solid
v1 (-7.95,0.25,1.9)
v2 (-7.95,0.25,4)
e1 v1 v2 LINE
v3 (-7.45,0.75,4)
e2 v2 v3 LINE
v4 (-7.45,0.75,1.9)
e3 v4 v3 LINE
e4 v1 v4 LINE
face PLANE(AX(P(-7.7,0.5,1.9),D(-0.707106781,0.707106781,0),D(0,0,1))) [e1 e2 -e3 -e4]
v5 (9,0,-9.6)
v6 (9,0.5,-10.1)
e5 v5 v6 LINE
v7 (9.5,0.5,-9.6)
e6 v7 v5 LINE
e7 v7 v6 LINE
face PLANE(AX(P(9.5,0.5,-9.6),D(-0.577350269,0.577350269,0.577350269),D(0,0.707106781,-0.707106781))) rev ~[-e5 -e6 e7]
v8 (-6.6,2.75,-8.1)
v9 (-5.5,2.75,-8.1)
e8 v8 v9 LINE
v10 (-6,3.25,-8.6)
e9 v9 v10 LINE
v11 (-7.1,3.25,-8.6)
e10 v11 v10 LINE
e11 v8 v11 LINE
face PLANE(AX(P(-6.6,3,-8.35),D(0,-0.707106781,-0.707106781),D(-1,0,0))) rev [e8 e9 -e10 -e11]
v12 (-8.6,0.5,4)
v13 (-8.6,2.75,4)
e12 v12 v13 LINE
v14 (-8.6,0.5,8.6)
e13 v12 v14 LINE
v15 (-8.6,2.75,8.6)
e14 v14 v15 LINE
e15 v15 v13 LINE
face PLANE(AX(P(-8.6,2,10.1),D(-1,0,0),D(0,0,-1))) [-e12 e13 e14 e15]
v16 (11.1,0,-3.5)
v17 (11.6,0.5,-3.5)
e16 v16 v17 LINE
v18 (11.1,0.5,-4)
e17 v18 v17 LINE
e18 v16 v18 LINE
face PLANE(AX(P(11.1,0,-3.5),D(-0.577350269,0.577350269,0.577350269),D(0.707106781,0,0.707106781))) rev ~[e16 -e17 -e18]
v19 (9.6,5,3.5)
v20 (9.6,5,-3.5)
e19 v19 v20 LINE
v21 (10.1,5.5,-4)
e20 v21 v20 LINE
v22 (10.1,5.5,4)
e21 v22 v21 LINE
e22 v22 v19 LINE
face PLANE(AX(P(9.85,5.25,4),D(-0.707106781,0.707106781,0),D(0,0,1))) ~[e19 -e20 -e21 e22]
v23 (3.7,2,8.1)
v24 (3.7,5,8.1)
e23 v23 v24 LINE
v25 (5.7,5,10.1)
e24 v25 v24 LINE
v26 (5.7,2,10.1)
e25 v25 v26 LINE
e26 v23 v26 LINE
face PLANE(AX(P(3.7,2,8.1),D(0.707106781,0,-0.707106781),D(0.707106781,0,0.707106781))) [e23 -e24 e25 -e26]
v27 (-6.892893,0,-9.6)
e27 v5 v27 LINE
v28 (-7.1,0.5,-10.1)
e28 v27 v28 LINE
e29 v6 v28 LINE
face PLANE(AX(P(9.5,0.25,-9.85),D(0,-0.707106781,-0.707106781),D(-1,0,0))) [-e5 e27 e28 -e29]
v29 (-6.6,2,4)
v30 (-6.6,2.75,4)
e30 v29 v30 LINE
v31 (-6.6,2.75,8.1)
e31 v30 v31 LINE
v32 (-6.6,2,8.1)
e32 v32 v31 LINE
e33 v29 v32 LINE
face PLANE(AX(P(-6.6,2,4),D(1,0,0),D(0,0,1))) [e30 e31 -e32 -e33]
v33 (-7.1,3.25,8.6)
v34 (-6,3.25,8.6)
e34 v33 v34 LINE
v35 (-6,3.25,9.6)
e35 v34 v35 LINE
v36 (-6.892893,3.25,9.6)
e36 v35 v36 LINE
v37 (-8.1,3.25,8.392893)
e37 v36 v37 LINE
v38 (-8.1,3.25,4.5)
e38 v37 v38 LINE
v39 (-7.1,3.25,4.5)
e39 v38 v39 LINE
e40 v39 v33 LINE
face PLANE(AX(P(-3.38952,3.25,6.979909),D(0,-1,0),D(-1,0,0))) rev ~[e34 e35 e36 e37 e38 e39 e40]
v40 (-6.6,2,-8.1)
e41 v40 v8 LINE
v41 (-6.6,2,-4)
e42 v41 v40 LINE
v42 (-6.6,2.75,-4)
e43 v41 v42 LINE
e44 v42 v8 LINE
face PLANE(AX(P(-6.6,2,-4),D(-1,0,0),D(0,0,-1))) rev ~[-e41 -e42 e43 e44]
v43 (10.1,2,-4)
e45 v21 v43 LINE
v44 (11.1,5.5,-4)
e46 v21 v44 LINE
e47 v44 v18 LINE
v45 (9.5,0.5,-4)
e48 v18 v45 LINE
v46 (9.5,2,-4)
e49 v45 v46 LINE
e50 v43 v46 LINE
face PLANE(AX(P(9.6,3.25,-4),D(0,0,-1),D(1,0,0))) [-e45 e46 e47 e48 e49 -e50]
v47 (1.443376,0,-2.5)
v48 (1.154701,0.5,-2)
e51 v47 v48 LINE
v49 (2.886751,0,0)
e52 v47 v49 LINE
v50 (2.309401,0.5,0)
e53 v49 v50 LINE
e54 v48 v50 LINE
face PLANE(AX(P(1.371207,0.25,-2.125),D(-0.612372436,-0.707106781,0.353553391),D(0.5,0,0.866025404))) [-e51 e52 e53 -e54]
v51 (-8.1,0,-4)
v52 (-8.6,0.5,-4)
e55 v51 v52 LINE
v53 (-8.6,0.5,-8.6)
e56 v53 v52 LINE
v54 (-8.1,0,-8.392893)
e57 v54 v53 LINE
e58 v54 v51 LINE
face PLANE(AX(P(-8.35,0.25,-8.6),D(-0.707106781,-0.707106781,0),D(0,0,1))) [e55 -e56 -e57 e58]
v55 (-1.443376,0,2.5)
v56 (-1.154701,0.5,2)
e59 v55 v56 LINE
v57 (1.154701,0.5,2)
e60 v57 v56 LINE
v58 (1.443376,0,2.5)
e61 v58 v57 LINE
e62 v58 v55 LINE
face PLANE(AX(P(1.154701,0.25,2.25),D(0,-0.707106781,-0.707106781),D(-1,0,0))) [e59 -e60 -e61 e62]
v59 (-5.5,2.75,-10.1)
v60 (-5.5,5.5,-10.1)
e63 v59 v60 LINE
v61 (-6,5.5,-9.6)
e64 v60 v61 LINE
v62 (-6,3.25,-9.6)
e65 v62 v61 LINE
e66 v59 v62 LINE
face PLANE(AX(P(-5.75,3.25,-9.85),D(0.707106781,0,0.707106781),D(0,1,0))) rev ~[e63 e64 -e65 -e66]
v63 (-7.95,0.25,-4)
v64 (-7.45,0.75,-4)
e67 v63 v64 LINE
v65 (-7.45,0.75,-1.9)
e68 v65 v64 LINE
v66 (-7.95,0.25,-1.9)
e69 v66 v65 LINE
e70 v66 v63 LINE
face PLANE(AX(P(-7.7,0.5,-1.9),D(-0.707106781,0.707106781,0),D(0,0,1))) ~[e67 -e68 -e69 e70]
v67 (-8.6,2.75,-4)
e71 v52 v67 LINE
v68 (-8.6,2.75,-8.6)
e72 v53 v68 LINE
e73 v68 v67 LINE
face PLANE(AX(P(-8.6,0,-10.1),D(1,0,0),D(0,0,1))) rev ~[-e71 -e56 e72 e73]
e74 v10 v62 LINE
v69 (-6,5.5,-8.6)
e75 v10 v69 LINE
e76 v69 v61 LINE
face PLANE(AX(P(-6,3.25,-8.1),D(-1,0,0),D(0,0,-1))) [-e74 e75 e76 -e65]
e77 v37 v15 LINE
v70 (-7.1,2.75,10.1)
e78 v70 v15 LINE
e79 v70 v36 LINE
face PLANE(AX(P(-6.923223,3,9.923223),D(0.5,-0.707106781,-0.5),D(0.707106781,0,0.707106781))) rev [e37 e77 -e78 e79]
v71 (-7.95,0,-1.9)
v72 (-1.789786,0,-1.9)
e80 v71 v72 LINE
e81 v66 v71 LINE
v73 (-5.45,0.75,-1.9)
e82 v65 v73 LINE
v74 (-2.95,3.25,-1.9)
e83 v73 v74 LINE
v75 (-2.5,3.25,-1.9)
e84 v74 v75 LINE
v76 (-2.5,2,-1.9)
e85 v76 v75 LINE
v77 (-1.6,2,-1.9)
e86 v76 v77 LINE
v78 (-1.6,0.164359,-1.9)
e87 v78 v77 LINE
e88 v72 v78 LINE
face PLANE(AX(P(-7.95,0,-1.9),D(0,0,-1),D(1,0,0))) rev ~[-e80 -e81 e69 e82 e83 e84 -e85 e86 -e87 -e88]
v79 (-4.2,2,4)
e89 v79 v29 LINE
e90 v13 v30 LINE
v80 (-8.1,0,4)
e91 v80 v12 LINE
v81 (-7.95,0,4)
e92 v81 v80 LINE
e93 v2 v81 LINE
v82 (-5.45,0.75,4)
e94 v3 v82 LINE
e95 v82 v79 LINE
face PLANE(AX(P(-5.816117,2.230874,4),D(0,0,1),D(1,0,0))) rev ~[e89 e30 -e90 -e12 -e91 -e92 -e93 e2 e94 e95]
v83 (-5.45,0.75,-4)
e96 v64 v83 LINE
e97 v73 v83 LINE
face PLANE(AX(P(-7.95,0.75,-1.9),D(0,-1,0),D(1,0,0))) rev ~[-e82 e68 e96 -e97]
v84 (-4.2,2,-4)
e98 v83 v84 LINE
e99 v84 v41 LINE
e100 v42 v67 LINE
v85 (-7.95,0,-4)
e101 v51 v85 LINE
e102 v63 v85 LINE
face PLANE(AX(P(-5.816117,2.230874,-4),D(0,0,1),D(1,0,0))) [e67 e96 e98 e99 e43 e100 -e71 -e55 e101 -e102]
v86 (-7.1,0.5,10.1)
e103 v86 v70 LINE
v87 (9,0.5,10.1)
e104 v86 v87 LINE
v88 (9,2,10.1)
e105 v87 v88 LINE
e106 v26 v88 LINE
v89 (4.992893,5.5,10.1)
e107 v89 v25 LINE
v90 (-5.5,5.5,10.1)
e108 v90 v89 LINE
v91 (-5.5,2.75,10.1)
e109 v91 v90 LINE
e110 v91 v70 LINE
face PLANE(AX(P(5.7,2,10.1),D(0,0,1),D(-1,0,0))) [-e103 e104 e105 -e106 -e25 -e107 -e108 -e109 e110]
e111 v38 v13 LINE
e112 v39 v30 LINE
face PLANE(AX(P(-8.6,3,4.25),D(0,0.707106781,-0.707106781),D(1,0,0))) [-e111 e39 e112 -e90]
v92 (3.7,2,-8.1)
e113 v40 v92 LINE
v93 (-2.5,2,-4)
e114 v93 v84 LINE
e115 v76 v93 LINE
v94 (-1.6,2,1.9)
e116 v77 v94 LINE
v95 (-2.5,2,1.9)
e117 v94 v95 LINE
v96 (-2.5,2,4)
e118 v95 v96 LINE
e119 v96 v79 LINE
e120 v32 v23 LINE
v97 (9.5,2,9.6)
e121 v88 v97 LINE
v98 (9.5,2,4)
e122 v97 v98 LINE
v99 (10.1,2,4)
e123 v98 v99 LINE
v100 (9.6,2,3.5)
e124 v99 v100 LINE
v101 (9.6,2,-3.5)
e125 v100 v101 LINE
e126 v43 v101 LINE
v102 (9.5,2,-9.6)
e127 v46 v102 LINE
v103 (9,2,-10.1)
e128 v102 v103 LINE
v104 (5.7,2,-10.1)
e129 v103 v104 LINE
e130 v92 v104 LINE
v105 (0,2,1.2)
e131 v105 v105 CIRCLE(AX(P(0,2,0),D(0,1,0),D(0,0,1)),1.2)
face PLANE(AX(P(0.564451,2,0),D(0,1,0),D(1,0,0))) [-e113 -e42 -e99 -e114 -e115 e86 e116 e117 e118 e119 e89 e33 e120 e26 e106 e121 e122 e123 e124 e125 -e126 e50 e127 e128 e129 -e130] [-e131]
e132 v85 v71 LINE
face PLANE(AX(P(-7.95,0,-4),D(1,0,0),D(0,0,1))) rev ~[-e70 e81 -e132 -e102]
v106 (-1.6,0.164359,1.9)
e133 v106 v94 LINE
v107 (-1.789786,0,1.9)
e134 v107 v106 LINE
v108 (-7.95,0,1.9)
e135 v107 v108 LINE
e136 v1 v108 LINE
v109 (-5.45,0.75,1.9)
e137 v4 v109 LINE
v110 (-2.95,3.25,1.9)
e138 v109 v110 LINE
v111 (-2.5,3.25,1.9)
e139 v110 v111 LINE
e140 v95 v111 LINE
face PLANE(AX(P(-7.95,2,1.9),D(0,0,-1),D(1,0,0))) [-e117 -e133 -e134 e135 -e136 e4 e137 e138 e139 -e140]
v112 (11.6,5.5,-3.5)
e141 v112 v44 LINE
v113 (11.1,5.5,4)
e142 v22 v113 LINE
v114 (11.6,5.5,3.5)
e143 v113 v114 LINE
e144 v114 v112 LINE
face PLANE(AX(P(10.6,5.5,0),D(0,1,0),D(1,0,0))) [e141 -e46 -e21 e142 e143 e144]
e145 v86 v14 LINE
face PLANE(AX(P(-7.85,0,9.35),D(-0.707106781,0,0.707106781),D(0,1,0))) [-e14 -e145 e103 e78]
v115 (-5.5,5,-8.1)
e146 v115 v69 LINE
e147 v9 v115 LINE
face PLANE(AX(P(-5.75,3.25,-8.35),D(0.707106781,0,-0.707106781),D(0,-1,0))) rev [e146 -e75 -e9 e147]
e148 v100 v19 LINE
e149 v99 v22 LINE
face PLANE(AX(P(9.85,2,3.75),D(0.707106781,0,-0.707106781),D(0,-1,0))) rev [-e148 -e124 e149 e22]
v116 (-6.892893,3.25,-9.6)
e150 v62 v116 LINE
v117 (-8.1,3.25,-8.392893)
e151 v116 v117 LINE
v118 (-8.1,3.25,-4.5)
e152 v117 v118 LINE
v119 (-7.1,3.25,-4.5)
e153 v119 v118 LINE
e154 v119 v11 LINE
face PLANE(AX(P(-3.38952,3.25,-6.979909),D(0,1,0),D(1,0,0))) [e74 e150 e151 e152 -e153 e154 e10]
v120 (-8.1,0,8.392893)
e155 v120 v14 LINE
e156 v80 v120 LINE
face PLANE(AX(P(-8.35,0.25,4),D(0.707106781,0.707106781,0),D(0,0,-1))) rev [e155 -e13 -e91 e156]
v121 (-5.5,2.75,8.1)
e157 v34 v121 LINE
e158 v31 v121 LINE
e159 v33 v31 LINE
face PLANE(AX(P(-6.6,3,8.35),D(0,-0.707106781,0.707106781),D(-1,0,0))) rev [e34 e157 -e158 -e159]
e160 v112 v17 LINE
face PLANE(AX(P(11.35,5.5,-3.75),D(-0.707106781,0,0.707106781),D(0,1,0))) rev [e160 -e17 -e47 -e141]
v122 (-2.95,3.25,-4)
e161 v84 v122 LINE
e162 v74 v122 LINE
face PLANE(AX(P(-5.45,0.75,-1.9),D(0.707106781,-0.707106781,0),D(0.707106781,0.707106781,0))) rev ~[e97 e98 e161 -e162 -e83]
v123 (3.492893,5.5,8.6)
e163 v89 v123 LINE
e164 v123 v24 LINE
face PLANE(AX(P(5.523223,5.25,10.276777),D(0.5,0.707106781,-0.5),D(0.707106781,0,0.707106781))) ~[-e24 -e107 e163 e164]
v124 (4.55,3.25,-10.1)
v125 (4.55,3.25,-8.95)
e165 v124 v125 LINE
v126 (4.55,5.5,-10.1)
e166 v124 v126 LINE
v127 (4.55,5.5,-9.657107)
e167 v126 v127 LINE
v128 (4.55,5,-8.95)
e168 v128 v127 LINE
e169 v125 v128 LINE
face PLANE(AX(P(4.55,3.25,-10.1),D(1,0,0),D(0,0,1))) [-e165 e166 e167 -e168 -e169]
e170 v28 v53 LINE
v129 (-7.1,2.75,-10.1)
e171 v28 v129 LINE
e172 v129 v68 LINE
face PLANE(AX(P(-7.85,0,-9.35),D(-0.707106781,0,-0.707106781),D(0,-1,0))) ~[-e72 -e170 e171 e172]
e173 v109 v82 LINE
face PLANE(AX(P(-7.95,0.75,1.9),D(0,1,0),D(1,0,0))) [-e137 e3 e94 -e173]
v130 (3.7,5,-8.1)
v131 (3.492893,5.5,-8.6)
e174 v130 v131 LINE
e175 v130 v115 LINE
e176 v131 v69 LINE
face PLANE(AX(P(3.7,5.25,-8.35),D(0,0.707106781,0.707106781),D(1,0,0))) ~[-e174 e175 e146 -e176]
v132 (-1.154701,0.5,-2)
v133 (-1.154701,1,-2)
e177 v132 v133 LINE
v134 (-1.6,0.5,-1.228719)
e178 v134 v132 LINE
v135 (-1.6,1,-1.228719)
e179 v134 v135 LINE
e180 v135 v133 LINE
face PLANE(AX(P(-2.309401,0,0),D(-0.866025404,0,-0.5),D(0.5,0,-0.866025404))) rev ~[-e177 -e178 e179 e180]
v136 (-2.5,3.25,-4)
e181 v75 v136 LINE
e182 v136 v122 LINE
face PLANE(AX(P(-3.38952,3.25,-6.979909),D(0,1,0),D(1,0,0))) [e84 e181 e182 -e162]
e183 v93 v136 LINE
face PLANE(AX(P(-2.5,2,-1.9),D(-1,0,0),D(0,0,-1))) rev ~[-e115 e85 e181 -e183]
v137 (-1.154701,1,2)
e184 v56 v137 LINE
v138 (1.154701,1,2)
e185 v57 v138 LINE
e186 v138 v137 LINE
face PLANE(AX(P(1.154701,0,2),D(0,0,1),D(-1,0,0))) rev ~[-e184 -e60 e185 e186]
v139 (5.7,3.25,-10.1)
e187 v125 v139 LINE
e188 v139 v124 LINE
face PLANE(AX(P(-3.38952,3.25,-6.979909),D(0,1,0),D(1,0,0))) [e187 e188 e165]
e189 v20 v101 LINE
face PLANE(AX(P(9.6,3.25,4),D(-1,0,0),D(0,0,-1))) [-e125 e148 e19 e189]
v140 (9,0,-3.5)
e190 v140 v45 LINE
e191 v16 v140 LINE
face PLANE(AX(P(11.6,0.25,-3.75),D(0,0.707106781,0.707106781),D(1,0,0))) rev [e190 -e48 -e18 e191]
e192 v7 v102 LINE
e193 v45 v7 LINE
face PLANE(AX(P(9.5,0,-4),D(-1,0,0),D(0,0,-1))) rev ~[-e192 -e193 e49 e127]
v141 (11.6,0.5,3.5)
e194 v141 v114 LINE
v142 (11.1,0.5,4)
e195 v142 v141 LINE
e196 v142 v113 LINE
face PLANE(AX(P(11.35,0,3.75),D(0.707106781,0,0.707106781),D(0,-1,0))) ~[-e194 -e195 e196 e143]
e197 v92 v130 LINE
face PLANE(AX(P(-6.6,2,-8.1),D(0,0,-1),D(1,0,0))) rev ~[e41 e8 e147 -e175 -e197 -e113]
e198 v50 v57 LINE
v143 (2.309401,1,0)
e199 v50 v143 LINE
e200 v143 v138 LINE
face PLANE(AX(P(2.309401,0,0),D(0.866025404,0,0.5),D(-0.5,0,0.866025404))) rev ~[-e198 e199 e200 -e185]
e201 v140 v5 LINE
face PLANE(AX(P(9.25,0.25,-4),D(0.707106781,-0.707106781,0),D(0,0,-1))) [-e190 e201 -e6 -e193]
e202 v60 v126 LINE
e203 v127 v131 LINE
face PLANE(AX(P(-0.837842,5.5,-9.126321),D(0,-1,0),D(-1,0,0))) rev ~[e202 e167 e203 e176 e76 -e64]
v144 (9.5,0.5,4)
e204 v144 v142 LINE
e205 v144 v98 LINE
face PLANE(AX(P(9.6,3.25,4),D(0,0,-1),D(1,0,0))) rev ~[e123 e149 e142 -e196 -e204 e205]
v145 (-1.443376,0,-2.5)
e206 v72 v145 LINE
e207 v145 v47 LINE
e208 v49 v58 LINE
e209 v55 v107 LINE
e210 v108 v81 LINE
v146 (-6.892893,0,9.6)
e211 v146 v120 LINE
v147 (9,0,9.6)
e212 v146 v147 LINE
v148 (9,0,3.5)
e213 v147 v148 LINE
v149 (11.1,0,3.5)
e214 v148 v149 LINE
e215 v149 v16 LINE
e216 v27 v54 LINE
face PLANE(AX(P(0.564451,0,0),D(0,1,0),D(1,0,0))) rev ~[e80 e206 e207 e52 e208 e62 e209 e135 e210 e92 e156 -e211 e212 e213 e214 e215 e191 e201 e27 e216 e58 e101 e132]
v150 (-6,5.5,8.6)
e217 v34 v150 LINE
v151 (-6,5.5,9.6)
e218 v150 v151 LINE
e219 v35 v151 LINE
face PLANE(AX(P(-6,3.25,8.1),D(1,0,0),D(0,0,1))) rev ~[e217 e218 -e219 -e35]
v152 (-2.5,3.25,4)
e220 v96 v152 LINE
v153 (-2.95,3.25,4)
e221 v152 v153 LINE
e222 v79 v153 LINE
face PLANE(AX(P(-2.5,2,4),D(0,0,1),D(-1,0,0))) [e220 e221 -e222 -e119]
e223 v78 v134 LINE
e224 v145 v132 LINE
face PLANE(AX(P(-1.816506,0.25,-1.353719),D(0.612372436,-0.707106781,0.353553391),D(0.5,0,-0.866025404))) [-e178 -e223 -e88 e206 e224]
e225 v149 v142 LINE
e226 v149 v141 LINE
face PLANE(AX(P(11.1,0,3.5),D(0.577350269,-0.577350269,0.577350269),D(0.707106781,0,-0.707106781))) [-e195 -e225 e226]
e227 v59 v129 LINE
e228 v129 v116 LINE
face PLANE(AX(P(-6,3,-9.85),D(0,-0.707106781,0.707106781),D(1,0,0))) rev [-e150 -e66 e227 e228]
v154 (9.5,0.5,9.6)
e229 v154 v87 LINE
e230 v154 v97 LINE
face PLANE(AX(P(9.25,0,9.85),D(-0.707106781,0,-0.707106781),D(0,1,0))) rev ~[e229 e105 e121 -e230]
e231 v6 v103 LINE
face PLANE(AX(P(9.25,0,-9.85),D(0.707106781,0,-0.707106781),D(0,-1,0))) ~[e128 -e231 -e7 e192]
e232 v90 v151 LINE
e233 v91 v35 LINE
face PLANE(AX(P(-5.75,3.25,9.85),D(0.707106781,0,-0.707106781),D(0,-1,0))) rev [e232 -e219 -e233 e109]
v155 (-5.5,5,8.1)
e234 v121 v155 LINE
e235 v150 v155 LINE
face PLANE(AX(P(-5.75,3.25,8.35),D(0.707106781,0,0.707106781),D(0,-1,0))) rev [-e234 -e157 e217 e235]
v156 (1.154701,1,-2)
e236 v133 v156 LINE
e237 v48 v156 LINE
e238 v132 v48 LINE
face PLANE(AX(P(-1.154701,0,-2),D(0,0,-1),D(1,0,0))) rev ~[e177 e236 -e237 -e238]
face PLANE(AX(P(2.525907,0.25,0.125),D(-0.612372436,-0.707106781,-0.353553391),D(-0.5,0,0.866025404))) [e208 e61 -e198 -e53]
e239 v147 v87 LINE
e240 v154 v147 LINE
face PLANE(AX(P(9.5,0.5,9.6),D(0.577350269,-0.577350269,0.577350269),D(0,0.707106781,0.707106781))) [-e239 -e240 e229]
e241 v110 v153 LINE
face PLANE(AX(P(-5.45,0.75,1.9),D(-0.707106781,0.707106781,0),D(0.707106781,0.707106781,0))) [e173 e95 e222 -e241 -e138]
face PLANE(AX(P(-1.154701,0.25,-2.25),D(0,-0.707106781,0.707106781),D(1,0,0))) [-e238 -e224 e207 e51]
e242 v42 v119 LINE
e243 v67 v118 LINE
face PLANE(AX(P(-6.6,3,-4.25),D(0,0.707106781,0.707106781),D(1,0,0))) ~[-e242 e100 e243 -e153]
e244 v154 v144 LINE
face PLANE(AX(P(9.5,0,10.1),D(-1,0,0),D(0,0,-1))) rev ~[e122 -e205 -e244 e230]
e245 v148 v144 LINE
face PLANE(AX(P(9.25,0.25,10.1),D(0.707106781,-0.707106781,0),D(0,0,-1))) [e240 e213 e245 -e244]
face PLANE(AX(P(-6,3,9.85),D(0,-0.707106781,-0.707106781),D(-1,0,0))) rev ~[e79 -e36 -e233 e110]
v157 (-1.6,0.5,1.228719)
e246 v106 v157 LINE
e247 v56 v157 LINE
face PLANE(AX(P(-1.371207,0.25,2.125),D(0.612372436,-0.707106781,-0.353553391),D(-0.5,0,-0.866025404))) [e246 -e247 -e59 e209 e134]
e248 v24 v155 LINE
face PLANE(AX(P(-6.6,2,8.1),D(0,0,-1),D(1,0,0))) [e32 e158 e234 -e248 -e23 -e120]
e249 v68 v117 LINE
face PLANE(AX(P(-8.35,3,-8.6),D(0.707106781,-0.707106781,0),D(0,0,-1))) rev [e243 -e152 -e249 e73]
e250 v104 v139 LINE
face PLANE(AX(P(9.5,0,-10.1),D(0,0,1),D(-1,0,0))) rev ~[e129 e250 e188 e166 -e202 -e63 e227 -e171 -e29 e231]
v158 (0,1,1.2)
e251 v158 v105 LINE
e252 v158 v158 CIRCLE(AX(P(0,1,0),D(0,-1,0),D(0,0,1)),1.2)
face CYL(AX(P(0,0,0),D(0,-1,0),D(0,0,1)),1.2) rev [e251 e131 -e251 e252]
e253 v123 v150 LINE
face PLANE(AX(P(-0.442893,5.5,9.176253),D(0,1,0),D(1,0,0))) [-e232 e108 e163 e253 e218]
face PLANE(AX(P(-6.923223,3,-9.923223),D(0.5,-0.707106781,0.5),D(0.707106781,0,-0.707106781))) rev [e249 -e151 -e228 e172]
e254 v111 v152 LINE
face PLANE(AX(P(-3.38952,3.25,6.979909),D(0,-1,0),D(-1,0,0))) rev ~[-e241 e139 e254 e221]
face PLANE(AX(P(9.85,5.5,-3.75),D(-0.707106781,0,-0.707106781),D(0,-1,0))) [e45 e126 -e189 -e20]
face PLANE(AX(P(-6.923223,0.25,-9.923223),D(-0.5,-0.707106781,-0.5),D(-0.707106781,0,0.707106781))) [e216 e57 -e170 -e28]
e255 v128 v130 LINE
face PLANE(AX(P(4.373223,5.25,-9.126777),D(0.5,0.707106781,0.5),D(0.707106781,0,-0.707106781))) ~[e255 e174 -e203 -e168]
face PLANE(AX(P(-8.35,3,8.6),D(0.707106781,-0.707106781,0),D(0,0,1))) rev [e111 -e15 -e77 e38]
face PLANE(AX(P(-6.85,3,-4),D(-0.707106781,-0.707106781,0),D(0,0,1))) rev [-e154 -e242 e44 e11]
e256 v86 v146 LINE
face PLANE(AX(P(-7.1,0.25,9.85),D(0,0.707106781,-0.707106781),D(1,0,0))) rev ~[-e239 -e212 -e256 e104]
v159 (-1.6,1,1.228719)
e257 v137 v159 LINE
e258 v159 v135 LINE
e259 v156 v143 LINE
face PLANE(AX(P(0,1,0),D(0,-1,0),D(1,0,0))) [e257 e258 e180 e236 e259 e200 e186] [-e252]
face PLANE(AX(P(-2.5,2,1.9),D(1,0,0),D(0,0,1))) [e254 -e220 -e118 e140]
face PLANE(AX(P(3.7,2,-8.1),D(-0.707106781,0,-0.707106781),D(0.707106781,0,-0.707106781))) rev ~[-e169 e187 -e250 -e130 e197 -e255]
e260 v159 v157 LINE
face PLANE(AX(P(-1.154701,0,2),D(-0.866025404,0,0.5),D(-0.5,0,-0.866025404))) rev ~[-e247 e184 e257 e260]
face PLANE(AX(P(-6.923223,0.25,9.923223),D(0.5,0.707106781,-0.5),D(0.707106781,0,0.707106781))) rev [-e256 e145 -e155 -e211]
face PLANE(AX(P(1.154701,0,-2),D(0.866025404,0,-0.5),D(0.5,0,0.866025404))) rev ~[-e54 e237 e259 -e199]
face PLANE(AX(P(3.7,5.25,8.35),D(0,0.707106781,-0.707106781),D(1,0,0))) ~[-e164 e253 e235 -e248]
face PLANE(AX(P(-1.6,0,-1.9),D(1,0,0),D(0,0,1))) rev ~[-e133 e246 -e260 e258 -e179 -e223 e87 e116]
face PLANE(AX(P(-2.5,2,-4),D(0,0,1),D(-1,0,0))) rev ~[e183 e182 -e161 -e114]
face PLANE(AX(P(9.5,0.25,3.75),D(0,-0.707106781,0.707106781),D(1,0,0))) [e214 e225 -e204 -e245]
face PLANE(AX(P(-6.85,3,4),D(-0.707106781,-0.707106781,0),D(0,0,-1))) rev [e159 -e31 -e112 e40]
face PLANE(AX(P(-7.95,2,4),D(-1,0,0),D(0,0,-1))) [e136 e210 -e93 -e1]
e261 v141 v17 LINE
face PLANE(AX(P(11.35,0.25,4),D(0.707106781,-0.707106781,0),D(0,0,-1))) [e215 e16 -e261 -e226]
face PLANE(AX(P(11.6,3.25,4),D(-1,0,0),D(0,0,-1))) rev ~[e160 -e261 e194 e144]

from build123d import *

# Parameters (mm, degrees)
SKETCH1_R           = 1.2
BOSS_EXTRUDE1_DEPTH = 2
SKETCH2_W           = 2
SKETCH2_H           = 8
BOSS_EXTRUDE2_DEPTH = 1.25
SKETCH3_W           = 2
SKETCH3_H           = 8
BOSS_EXTRUDE3_DEPTH = 2.25
CUT_EXTRUDE1_DEPTH  = 1
CUT_EXTRUDE2_DEPTH  = 2.1
CUT_EXTRUDE3_DEPTH  = 2.1
CHAMFER1_SIZE       = 1.5
CHAMFER2_SIZE       = 0.5


with BuildPart() as part:
    # Sketch1 → Boss-Extrude1 (new body)
    with BuildSketch(Plane(origin=(0, 0, 0), x_dir=(1, 0, 0), z_dir=(0, 1, 0))):
        Polygon((-8.6, -10.1), (9.5, -10.1), (9.5, -4), (11.6, -4), (11.6, 4), (9.5, 4), (9.5, 10.1), (-8.6, 10.1), (-8.6, 4), (-7.95, 4), (-7.95, 1.9), (-1.6, 1.9), (-1.6, -1.9), (-7.95, -1.9), (-7.95, -4), (-8.6, -4), align=None)
        with Locations(Location((0, 0, 0), (0, 0, 270))):
            Circle(SKETCH1_R, mode=Mode.SUBTRACT)
    extrude(amount=BOSS_EXTRUDE1_DEPTH)

    # Sketch2 → Boss-Extrude2 (add)
    with BuildSketch(Plane(origin=(0, 2, 0), x_dir=(1, 0, 0), z_dir=(0, 1, 0))):
        Polygon((-8.6, -4), (-7.95, -4), (-7.95, -1.9), (-2.5, -1.9), (-2.5, -4), (-6.6, -4), (-6.6, -8.1), (3.7, -8.1), (5.7, -10.1), (-8.6, -10.1), align=None)
        Polygon((-8.6, 10.1), (-8.6, 4), (-7.95, 4), (-7.95, 1.9), (-2.5, 1.9), (-2.5, 4), (-6.6, 4), (-6.6, 8.1), (3.7, 8.1), (5.7, 10.1), align=None)
        with Locations((10.6, 0)):
            Rectangle(SKETCH2_W, SKETCH2_H)
    extrude(amount=BOSS_EXTRUDE2_DEPTH)

    # Sketch3 → Boss-Extrude3 (add)
    with BuildSketch(Plane(origin=(0, 3.25, 0), x_dir=(1, 0, 0), z_dir=(0, 1, 0))):
        with Locations((10.6, 0)):
            Rectangle(SKETCH3_W, SKETCH3_H)
        Polygon((3.7, -8.1), (-6, -8.1), (-6, -10.1), (5.7, -10.1), align=None)
        Polygon((3.7, 8.1), (-6, 8.1), (-6, 10.1), (4.55, 10.1), (4.55, 8.95), align=None)
    extrude(amount=BOSS_EXTRUDE3_DEPTH)

    # Sketch4 → Cut-Extrude1 (cut)
    with BuildSketch(Plane.XZ):
        Polygon((-2.309401077, 0), (-1.154700538, -2), (1.154700538, -2), (2.309401077, 0), (1.154700538, 2), (-1.154700538, 2), align=None)
    extrude(amount=-CUT_EXTRUDE1_DEPTH, mode=Mode.SUBTRACT)

    # Sketch5 → Cut-Extrude2 (cut)
    with BuildSketch(Plane(origin=(0, 0, 1.9), x_dir=(-1, 0, 0), z_dir=(0, 0, -1))):
        Polygon((7.95, 0.75), (5.45, 0.75), (2.95, 3.25), (7.95, 3.25), align=None)
    extrude(amount=-CUT_EXTRUDE2_DEPTH, mode=Mode.SUBTRACT)

    # Sketch6 → Cut-Extrude3 (cut)
    with BuildSketch(Plane.XY.offset(-1.9)):
        Polygon((-7.95, 3.25), (-7.95, 0.75), (-5.45, 0.75), (-2.95, 3.25), align=None)
    extrude(amount=-CUT_EXTRUDE3_DEPTH, mode=Mode.SUBTRACT)

    # Chamfer1
    chamfer1_edges = [part.edges().sort_by_distance(p)[0] for p in [
        (-8.6, 1.625, -10.1),
        (-8.6, 1.625, 10.1),
    ]]
    chamfer(chamfer1_edges, length=CHAMFER1_SIZE)

    # Chamfer2
    chamfer2_edges = [part.edges().sort_by_distance(p)[0] for p in [
        (11.6, 2.75, -4),
        (11.6, 2.75, 4),
        (-8.6, 0, 6.3),
        (-7.85, 0, 9.35),
        (-8.6, 0, -6.3),
        (-7.85, 0, -9.35),
        (1.2, 0, -10.1),
        (9.5, 0, -7.05),
        (10.55, 0, -4),
        (1.2, 0, 10.1),
        (9.5, 0, 7.05),
        (10.55, 0, 4),
        (11.6, 0, 0),
        (-1.377350269, 0, -1.614359354),
        (0, 0, -2),
        (-1.377350269, 0, 1.614359354),
        (0, 0, 2),
        (1.732050808, 0, 1),
        (1.732050808, 0, -1),
        (-1.15, 5.5, -8.1),
        (-6, 4.375, -8.1),
        (-6.3, 3.25, -8.1),
        (-6.6, 3.25, -6.05),
        (-7.6, 3.25, -4),
        (-6.55, 3.25, -10.1),
        (-7.85, 3.25, -9.35),
        (-8.6, 3.25, -6.3),
        (-7.95, 0.75, 2.95),
        (-7.95, 0.75, -2.95),
        (9.6, 3.75, 4),
        (9.6, 3.75, -4),
        (9.6, 5.5, 0),
        (-1.15, 5.5, 8.1),
        (-6, 4.375, 8.1),
        (-6.3, 3.25, 8.1),
        (-6.6, 3.25, 6.05),
        (-7.6, 3.25, 4),
        (-6.55, 3.25, 10.1),
        (-7.85, 3.25, 9.35),
        (-8.6, 3.25, 6.3),
        (9.5, 1, -10.1),
        (9.5, 1, 10.1),
        (4.125, 5.5, -8.525),
        (4.7, 5.5, 9.1),
        (-6, 4.375, -10.1),
        (-6, 4.375, 10.1),
    ]]
    chamfer(chamfer2_edges, length=CHAMFER2_SIZE)


solid = part.part
